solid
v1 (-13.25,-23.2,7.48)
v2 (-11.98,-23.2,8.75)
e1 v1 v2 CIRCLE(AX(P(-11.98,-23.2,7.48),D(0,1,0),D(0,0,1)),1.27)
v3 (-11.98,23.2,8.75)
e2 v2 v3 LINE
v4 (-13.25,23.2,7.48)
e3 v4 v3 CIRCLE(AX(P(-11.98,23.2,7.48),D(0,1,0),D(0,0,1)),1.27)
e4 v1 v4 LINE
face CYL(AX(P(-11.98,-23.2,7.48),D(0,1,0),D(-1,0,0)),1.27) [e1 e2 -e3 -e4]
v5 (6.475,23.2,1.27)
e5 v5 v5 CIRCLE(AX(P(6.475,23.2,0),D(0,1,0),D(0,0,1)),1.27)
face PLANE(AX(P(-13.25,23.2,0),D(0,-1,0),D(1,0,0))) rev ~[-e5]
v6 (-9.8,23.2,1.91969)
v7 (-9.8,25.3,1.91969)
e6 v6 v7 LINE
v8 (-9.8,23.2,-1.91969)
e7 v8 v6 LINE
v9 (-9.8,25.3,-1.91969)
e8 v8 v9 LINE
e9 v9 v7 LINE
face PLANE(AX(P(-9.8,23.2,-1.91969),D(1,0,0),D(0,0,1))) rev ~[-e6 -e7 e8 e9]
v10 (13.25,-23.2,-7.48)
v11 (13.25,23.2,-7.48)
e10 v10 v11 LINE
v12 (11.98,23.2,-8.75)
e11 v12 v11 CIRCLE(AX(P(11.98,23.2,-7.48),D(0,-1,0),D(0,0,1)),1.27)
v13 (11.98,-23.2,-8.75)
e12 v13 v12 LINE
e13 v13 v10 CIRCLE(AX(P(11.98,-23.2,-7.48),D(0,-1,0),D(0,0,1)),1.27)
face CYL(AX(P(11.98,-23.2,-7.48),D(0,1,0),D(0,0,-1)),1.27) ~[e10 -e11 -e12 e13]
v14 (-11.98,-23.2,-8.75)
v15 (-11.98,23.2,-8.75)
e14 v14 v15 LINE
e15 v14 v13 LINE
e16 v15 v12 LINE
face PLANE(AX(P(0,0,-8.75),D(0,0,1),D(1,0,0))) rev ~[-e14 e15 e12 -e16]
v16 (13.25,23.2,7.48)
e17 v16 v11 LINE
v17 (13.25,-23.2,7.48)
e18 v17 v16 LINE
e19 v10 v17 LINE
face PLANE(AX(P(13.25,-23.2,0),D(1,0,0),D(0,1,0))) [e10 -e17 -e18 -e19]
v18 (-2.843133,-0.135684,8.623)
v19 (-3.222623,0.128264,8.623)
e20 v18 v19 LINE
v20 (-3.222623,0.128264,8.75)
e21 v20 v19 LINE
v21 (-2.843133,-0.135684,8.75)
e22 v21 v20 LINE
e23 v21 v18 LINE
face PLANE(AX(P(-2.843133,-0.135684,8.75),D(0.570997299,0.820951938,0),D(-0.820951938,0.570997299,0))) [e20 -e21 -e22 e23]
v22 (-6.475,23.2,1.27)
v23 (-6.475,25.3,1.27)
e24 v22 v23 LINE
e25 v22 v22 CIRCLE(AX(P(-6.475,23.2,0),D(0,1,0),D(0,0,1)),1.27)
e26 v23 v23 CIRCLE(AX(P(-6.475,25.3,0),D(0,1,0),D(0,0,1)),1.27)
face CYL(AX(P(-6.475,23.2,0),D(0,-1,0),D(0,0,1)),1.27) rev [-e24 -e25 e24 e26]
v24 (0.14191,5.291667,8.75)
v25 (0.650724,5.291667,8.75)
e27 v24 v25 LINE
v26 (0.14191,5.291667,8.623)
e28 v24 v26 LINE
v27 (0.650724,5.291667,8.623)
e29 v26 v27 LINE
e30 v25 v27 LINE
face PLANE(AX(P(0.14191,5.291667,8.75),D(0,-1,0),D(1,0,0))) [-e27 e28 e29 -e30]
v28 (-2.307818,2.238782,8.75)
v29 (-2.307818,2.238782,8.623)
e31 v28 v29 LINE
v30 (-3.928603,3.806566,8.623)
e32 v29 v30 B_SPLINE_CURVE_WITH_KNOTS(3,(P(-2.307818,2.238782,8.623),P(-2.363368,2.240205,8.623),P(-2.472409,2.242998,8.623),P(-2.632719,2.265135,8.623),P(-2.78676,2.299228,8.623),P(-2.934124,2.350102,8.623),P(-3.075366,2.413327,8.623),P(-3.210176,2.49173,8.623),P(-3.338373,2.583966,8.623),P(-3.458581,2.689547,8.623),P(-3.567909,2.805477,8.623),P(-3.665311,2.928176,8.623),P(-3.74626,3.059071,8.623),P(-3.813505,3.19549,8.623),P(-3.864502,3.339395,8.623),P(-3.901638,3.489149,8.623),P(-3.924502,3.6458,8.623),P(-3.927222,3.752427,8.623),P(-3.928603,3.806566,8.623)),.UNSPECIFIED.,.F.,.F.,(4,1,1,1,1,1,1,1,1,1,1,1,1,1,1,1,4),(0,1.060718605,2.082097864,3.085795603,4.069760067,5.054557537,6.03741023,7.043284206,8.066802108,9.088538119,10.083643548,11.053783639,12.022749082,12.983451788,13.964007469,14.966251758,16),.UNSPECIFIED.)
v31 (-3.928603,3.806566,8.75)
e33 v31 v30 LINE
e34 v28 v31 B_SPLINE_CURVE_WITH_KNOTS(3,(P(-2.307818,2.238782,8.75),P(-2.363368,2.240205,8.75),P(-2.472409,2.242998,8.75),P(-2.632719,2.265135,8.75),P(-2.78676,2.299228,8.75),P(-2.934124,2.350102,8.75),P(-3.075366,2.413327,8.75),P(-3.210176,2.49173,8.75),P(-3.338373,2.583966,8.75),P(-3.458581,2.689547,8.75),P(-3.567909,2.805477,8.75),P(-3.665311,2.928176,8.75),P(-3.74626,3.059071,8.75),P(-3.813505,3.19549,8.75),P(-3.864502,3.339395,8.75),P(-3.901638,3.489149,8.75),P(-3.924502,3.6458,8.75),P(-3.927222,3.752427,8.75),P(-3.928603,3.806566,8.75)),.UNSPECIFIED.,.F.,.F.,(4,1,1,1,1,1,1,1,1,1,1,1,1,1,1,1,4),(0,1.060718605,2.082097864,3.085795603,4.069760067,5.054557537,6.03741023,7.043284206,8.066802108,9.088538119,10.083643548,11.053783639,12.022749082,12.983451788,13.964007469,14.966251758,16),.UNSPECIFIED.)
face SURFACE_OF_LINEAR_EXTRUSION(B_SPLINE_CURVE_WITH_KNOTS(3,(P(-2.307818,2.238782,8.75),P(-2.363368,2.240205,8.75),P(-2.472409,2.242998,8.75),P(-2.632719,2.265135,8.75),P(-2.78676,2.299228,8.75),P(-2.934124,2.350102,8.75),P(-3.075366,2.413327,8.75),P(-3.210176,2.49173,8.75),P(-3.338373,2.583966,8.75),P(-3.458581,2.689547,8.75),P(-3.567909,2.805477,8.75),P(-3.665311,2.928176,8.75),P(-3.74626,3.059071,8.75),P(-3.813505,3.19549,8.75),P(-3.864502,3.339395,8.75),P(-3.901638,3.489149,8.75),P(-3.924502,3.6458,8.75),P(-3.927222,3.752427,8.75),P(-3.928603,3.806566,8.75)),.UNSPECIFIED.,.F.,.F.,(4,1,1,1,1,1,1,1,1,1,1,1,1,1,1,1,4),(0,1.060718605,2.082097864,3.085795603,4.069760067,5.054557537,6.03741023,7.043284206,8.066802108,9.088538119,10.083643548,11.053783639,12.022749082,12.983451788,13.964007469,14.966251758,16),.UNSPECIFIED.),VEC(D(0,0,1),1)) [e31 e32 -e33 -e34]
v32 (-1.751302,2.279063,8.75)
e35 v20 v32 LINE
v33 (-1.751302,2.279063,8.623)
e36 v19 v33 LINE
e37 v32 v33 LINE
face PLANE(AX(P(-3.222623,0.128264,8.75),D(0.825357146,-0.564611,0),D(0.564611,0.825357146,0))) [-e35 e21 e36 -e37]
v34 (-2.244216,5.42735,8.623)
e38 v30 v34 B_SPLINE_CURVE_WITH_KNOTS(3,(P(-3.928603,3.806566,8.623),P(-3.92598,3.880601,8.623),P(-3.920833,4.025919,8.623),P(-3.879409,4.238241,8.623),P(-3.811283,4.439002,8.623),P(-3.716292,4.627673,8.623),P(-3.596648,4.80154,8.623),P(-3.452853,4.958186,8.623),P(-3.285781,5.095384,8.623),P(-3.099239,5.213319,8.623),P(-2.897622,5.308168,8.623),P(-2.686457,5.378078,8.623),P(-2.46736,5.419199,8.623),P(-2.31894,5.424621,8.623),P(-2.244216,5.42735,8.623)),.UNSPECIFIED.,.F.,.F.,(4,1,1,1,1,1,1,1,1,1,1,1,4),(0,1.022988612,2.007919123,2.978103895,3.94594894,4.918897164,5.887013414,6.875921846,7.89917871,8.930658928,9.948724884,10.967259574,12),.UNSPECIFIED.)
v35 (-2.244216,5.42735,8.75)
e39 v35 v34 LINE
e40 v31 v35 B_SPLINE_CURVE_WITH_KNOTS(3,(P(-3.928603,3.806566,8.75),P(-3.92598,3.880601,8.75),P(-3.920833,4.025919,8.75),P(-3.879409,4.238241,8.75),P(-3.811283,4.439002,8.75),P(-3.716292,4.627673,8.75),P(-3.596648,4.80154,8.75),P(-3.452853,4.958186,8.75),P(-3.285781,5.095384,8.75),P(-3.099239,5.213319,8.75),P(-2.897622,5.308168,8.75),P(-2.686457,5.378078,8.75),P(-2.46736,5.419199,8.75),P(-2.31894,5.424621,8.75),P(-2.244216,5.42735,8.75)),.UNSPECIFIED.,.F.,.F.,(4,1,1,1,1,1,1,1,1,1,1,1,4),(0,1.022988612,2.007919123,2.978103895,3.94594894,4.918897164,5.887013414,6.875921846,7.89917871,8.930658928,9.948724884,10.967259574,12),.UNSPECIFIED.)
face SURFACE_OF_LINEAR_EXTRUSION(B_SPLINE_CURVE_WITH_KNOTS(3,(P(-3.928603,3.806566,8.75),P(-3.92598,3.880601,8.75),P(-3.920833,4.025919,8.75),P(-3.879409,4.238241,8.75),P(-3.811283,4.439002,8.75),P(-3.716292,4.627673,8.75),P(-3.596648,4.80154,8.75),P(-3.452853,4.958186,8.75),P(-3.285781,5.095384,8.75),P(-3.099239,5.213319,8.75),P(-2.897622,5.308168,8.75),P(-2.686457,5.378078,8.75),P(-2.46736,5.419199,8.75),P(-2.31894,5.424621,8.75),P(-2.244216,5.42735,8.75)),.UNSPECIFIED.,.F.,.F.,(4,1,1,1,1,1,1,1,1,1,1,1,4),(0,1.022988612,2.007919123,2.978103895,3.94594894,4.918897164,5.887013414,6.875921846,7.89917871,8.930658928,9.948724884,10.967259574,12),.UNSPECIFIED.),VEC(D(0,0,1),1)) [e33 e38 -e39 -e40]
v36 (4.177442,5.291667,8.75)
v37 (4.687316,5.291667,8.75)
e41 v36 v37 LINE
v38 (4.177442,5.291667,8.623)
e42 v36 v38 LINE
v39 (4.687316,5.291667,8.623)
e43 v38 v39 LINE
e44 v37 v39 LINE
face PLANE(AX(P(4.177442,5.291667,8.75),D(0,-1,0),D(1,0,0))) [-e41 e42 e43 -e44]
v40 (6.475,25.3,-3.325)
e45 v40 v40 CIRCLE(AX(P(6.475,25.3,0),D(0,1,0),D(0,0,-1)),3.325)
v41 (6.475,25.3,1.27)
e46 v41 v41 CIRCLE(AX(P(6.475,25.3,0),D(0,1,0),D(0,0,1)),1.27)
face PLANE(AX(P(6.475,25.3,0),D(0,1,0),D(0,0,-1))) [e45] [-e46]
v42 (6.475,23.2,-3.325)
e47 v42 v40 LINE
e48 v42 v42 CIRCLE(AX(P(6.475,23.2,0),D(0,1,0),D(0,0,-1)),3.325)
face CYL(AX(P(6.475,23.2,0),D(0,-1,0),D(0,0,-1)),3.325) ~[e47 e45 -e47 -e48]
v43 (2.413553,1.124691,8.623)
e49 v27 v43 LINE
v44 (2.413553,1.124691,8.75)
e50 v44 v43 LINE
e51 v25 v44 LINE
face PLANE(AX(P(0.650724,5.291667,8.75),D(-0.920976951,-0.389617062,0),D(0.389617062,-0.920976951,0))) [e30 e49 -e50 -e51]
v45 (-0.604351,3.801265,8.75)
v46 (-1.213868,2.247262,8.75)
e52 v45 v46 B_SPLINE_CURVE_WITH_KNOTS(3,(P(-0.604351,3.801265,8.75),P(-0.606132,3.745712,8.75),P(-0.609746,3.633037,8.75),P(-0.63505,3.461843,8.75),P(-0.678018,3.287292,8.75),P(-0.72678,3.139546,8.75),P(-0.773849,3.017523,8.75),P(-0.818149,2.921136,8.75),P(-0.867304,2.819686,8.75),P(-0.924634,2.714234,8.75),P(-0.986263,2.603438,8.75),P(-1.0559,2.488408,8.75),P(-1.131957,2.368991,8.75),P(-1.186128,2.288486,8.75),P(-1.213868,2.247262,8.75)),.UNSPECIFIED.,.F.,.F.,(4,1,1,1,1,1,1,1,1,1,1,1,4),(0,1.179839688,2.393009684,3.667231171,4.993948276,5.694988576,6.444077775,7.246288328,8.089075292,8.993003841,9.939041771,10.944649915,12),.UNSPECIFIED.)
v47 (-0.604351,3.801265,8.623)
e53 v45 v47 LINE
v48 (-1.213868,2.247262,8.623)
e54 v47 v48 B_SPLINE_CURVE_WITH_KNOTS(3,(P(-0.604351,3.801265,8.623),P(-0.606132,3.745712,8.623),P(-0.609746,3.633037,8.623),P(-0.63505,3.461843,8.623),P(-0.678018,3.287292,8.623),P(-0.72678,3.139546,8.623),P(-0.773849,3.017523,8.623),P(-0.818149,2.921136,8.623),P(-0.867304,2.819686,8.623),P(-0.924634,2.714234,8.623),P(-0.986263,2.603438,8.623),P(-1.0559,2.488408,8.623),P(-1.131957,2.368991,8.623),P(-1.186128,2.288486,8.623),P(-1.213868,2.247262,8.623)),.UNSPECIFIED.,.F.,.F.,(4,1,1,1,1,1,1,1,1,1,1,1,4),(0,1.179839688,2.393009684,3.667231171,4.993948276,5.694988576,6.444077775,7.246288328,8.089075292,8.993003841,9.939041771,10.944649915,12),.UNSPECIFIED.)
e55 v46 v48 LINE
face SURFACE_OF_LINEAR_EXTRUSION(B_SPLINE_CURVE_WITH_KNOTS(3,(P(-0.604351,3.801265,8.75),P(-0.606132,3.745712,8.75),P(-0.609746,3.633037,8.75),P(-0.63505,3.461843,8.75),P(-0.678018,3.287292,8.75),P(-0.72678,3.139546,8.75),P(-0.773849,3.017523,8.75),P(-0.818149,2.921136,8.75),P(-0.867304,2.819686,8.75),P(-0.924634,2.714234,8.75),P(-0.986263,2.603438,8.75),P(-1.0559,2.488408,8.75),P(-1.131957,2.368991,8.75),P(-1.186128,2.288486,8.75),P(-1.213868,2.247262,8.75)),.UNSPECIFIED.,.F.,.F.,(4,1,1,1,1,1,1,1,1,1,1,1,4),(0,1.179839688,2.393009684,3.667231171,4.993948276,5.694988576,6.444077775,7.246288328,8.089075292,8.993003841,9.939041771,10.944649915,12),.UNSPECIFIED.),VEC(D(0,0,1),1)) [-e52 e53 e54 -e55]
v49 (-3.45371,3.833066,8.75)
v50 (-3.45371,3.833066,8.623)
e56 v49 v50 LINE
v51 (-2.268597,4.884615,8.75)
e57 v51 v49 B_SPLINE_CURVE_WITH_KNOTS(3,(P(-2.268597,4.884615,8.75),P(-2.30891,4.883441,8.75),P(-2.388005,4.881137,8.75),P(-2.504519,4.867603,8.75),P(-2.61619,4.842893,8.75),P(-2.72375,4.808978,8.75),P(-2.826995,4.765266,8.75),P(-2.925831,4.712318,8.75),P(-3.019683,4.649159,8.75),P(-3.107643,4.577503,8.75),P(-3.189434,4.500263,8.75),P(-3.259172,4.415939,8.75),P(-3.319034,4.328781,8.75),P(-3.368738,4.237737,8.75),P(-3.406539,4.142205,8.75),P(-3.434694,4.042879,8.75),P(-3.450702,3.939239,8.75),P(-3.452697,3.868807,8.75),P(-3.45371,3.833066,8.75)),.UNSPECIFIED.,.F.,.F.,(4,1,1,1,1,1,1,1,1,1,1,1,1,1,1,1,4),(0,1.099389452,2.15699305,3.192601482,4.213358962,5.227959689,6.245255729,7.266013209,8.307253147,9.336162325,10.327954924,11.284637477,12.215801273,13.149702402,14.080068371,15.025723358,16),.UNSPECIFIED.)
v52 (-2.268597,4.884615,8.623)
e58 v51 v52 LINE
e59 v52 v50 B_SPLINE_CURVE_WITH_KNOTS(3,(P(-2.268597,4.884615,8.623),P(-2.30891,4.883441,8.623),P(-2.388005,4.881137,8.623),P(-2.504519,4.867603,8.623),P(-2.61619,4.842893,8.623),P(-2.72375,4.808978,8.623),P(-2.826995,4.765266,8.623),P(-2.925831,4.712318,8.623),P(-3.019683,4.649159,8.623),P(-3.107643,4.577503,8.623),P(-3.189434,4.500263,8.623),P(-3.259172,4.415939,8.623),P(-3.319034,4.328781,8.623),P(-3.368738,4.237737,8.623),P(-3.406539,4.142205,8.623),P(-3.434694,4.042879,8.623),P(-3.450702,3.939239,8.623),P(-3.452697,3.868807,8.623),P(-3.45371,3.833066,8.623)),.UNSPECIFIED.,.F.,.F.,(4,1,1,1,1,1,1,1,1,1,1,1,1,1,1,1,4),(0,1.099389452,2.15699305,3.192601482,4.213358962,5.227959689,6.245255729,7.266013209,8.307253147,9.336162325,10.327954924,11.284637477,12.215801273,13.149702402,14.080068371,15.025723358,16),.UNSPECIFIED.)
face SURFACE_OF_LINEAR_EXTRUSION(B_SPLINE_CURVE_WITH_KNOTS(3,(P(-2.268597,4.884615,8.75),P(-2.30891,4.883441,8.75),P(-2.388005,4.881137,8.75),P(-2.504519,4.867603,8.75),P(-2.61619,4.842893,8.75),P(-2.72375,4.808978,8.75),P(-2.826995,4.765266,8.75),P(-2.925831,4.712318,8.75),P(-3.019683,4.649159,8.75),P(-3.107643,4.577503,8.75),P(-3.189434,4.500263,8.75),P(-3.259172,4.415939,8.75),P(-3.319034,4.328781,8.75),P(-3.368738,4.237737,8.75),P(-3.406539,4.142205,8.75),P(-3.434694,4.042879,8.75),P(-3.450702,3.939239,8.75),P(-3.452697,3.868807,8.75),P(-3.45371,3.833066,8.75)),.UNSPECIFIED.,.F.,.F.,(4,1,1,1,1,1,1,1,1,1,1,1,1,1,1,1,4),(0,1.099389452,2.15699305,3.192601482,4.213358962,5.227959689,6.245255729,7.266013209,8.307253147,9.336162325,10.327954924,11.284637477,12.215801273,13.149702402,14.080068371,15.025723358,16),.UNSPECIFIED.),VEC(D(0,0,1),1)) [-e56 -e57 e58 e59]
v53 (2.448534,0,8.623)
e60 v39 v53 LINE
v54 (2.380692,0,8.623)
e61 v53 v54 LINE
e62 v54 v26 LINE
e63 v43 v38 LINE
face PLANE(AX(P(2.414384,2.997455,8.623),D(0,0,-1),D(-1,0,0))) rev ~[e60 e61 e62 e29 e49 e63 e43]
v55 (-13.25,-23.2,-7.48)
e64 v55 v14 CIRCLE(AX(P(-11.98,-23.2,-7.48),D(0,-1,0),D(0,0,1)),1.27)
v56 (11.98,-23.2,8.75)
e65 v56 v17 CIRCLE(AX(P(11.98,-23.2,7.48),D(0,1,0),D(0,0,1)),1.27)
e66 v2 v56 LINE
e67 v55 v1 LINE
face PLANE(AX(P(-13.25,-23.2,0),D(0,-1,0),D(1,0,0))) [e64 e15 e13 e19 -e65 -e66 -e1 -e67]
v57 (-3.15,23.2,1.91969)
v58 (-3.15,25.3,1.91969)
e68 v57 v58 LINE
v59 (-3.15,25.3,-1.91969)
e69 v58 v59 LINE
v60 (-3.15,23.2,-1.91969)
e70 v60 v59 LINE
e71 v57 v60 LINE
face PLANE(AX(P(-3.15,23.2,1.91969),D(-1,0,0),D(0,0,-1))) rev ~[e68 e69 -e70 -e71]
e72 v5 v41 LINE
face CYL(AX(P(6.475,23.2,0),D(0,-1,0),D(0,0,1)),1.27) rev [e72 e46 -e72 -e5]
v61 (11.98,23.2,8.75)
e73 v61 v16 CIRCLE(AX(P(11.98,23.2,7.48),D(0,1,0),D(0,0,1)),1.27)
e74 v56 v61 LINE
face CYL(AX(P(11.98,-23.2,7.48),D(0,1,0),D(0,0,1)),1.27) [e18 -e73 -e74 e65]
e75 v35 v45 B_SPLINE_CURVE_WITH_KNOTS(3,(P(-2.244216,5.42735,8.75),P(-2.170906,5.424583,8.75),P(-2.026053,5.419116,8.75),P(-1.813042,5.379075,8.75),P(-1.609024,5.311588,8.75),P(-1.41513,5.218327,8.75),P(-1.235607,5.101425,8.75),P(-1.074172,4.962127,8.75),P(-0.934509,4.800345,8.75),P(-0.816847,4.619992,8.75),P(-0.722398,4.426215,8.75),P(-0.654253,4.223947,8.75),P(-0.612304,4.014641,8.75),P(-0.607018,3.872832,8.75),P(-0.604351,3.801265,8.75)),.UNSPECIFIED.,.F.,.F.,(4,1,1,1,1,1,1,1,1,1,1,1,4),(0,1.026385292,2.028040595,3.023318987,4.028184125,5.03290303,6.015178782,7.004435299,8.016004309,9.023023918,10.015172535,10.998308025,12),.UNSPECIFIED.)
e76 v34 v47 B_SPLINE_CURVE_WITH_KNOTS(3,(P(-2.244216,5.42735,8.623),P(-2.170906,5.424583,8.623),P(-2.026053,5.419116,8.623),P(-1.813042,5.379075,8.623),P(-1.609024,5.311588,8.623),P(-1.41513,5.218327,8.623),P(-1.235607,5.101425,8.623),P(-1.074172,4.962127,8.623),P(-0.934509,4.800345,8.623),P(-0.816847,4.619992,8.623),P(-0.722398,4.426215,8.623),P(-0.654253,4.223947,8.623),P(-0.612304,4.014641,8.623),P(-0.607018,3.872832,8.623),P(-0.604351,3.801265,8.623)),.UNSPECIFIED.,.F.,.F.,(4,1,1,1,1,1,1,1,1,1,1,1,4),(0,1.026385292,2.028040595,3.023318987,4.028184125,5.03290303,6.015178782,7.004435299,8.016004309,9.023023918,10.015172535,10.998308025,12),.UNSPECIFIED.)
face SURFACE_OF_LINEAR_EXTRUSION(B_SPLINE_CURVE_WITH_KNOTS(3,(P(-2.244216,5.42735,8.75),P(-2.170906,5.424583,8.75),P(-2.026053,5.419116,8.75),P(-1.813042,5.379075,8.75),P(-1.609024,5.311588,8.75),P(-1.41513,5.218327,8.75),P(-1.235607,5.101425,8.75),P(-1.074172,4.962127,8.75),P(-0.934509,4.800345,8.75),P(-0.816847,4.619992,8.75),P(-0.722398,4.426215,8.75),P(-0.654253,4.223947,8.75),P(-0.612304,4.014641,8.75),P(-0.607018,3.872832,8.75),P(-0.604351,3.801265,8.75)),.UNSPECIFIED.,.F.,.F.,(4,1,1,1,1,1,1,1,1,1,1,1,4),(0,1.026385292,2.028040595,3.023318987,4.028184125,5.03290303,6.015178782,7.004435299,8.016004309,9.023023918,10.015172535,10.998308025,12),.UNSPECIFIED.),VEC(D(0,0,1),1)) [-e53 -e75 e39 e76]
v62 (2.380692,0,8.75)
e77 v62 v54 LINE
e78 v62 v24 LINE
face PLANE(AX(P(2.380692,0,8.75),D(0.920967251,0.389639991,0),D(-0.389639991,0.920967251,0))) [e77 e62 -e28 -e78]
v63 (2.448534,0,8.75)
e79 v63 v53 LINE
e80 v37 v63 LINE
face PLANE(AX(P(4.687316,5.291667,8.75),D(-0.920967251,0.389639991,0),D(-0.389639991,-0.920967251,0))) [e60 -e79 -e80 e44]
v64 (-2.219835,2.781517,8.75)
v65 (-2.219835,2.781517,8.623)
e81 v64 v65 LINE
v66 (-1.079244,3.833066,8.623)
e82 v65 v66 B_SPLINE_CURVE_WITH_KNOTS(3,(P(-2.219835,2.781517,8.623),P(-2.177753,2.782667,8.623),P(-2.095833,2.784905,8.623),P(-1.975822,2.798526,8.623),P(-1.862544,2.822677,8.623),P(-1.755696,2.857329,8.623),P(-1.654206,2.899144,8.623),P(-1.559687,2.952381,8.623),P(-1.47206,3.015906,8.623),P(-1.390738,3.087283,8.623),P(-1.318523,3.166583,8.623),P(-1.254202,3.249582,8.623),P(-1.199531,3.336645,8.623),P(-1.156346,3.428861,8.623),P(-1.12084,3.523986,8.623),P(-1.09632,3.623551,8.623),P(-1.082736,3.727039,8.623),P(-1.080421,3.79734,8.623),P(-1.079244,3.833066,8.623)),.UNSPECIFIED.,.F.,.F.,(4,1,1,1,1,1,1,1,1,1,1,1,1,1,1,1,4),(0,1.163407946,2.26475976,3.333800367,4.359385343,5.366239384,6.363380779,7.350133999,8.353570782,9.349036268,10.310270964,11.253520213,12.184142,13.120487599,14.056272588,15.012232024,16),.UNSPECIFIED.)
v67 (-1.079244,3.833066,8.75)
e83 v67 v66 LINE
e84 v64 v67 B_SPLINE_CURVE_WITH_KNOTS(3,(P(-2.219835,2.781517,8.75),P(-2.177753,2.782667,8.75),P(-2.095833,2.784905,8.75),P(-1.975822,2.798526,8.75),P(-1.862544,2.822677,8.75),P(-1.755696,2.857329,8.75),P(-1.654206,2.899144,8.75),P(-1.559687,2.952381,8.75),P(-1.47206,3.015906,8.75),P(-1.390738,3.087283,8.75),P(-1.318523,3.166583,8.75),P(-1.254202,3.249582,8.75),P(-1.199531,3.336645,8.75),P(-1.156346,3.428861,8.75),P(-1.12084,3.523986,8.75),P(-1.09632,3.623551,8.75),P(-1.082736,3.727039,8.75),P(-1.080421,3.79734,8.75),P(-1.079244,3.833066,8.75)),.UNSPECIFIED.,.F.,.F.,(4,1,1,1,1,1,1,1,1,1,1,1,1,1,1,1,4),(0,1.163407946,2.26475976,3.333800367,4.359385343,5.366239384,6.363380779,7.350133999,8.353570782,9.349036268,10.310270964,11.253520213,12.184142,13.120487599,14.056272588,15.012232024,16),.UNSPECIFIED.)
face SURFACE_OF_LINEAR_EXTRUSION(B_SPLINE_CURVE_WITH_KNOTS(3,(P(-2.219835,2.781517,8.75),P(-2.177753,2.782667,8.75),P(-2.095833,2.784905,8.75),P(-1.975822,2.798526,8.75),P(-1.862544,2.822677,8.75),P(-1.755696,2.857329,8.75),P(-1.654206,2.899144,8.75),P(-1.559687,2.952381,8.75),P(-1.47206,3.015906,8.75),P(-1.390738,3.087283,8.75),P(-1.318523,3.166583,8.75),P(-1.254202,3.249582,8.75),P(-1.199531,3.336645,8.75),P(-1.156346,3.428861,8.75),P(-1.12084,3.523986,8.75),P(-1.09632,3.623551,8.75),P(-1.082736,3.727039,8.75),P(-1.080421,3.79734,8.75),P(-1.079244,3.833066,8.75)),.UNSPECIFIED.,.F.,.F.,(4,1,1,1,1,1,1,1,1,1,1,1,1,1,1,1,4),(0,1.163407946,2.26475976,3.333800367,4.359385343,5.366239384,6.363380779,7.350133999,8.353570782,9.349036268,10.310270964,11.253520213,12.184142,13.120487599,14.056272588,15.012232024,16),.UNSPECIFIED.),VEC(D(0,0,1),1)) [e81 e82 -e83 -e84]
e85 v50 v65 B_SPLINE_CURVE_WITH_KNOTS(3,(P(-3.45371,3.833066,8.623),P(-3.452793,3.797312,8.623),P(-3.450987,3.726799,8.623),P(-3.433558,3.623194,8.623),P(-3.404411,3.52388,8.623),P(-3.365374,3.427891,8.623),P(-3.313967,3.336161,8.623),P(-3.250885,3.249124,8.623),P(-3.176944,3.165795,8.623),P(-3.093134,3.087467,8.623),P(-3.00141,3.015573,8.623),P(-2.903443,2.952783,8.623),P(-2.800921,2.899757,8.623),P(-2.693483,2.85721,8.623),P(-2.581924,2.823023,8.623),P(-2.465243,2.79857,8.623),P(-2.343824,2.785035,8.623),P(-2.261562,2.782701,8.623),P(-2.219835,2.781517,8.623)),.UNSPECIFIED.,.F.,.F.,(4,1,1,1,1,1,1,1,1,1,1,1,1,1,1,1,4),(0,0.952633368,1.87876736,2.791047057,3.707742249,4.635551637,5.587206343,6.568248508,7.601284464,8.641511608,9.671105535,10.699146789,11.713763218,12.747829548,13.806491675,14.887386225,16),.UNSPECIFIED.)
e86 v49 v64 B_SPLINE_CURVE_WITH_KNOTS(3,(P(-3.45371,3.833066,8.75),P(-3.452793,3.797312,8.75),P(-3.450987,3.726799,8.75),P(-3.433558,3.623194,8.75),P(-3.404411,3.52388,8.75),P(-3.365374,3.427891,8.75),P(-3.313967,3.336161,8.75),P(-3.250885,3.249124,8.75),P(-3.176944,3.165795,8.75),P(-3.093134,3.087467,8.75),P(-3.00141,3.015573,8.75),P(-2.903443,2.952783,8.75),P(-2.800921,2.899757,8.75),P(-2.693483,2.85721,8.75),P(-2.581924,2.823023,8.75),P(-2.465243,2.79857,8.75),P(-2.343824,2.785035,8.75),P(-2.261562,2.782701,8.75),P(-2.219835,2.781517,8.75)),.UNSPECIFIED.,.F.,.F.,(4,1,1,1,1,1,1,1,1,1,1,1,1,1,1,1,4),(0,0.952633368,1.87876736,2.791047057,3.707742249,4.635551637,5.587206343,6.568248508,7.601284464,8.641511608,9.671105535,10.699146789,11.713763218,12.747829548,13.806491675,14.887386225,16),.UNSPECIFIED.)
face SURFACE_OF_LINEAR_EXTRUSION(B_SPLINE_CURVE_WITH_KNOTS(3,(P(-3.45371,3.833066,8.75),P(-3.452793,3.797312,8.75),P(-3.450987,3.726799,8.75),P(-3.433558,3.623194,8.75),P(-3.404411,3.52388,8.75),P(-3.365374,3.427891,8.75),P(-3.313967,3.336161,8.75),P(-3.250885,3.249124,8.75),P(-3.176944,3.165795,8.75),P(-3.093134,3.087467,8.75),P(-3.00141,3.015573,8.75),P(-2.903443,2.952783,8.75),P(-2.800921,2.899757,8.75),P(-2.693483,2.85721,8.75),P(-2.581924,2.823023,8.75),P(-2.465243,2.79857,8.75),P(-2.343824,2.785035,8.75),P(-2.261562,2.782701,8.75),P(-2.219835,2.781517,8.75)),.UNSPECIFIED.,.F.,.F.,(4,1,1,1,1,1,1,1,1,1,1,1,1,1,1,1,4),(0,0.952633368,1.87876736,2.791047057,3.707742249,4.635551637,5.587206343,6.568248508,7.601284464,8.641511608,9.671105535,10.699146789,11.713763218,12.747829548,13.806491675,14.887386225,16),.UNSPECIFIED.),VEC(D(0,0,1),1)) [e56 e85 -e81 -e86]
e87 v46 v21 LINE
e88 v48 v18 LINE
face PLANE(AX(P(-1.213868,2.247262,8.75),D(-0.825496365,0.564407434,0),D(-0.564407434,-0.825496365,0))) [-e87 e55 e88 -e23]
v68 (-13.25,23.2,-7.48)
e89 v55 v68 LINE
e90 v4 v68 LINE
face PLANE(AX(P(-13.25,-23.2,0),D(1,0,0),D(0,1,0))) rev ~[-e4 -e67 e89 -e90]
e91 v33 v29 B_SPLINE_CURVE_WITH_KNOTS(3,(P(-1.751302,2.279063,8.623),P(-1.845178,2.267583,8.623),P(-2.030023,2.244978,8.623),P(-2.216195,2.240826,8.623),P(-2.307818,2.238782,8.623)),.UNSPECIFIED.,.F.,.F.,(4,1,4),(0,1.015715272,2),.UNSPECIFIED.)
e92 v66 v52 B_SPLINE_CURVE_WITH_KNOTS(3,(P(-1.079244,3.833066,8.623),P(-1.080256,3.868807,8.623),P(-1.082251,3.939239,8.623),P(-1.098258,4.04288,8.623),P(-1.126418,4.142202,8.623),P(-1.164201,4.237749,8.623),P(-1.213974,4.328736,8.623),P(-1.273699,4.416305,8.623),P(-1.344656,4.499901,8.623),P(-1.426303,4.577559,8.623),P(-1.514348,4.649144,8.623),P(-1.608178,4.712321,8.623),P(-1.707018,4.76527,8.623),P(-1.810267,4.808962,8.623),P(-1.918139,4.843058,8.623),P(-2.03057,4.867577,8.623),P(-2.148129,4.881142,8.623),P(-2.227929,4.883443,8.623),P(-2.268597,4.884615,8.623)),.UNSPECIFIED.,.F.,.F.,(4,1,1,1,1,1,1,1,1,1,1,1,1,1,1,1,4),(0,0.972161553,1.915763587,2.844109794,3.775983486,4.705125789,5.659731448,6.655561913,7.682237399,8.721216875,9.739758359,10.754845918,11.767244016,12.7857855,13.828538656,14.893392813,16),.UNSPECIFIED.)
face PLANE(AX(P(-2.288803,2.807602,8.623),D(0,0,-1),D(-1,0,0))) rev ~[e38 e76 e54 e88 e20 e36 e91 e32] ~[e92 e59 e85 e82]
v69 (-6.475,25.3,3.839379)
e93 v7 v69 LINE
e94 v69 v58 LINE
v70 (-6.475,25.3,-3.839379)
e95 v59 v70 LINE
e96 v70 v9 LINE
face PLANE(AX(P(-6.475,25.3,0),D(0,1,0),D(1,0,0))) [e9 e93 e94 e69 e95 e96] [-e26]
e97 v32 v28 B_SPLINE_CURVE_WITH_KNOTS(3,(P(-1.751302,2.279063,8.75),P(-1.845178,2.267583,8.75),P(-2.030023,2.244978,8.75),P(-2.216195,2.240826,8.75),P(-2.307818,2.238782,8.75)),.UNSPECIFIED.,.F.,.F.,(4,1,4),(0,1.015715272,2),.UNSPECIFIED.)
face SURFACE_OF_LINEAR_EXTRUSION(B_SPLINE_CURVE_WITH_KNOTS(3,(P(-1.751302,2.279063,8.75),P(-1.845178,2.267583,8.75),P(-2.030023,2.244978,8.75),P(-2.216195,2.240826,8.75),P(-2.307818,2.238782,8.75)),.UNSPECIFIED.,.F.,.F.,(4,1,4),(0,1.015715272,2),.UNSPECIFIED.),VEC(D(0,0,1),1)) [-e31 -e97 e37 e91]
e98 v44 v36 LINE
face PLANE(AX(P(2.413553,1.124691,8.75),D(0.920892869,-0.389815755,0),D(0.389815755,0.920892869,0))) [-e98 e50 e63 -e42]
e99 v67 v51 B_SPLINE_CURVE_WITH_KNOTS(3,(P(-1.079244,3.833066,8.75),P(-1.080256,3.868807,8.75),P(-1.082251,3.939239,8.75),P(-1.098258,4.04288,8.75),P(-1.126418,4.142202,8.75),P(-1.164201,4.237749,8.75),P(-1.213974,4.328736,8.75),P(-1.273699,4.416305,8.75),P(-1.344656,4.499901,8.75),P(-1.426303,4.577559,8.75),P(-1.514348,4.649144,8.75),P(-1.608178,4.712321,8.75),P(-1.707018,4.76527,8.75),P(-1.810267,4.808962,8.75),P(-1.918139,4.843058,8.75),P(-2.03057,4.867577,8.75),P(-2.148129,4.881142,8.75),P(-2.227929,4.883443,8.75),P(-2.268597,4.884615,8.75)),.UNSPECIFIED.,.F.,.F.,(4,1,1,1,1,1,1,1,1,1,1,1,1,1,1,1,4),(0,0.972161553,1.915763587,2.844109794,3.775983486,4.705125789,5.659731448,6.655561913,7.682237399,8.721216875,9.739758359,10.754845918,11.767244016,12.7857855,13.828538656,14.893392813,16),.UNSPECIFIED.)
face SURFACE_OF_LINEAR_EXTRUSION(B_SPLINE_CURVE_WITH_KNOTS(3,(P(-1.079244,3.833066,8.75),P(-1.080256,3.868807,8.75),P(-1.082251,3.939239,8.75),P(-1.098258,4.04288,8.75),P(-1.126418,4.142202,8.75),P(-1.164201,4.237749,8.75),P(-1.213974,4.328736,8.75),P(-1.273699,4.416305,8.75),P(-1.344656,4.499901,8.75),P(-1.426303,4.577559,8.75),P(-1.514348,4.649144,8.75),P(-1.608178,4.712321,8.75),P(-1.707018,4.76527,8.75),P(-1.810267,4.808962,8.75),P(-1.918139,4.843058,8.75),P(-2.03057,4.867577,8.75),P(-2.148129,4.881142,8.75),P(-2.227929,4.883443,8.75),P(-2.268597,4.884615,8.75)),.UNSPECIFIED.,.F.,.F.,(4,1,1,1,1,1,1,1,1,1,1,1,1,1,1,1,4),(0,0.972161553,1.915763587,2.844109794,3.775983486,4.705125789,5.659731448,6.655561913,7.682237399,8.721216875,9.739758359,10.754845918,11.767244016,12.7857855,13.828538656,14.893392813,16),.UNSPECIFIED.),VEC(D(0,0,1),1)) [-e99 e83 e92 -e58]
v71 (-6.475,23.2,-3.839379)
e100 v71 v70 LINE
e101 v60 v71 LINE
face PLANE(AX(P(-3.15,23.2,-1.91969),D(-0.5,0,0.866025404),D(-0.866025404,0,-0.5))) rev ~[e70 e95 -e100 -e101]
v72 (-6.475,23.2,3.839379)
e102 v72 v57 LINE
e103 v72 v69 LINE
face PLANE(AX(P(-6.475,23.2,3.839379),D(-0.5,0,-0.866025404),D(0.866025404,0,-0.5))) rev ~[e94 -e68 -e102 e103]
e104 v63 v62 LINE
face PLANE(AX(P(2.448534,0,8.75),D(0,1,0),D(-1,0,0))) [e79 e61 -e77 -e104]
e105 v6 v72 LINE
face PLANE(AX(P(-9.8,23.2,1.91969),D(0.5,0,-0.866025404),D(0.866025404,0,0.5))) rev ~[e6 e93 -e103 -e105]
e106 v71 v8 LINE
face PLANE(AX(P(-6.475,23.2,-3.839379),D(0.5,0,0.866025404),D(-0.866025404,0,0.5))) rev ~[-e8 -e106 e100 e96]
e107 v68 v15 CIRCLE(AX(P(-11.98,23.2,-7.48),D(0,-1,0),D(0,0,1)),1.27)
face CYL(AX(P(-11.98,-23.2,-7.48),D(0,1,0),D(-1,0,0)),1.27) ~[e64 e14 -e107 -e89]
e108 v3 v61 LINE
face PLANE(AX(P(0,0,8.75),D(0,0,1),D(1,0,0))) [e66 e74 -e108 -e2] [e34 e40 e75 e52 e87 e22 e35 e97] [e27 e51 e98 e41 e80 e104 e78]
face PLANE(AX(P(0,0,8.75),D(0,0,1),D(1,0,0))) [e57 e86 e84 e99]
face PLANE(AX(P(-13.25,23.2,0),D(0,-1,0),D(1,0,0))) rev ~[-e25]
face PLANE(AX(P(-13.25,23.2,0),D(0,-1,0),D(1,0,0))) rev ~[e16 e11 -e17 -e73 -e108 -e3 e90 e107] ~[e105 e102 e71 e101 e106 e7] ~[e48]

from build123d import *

# Parameters (mm, degrees)
SKETCH1_W           = 26.5
SKETCH1_H           = 46.4
BOSS_EXTRUDE1_DEPTH = 8.75
SKETCH2_R           = 3.325
SKETCH2_R_2         = 1.27
BOSS_EXTRUDE2_DEPTH = 2.1
CUT_EXTRUDE1_DEPTH  = 0.127
FILLET1_R           = 1.27


with BuildPart() as part:
    # Sketch1 → Boss-Extrude1 (new, symmetric)
    with BuildSketch(Plane.XY):
        Rectangle(SKETCH1_W, SKETCH1_H)
    extrude(amount=BOSS_EXTRUDE1_DEPTH, both=True)

    # Sketch2 → Boss-Extrude2 (add)
    # profile 1 of 2: a face of its own
    with BuildSketch(Plane(origin=(0, 23.2, 0), x_dir=(1, 0, 0), z_dir=(0, 1, 0))):
        with Locations(Location((6.475, 0, 0), (0, 0, 90))):
            Circle(SKETCH2_R)
        with Locations(Location((6.475, 0, 0), (0, 0, 270))):
            Circle(SKETCH2_R_2, mode=Mode.SUBTRACT)
    # profile 2 of 2: a face of its own
    with BuildSketch(Plane(origin=(0, 23.2, 0), x_dir=(1, 0, 0), z_dir=(0, 1, 0))):
        Polygon((-6.475, 3.83937929), (-9.8, 1.919689645), (-9.8, -1.919689645), (-6.475, -3.83937929), (-3.15, -1.919689645), (-3.15, 1.919689645), align=None)
        with Locations(Location((-6.475, 0, 0), (0, 0, 270))):
            Circle(SKETCH2_R_2, mode=Mode.SUBTRACT)
    extrude(amount=BOSS_EXTRUDE2_DEPTH)

    # Sketch3 → Cut-Extrude1 (cut)
    # profile 1 of 2: a face of its own
    with BuildSketch(Plane.XY.offset(8.75)):
        with BuildLine():
            Line((-2.843132665, -0.135683761), (-3.222623183, 0.128263555))
            Line((-3.222623183, 0.128263555), (-1.751302403, 2.279063168))
            add(Edge.make_bspline(
                [(-1.751302403, 2.279063168), (-1.845177682, 2.267583179), (-2.03002334, 2.244978442), (-2.216194911, 2.240825761), (-2.307817828, 2.238782051)],
                knots=[0, 0, 0, 0, 1.015715272, 2, 2, 2, 2], degree=3))
            add(Edge.make_bspline(
                [(-2.307817828, 2.238782051), (-2.363368305, 2.240204869), (-2.472409033, 2.242997737), (-2.632718794, 2.265134756), (-2.786760058, 2.299228402), (-2.934124441, 2.350102115), (-3.075365836, 2.413327264), (-3.210175902, 2.49173013), (-3.338373165, 2.583965833), (-3.458580797, 2.689546665), (-3.567909259, 2.805476578), (-3.66531115, 2.928176181), (-3.746260242, 3.059070803), (-3.813504604, 3.195490302), (-3.864501837, 3.339395439), (-3.901638055, 3.489148699), (-3.924501614, 3.645799634), (-3.927221675, 3.752426915), (-3.92860275, 3.806565505)],
                knots=[0, 0, 0, 0, 1.060718605, 2.082097864, 3.085795603, 4.069760067, 5.054557537, 6.03741023, 7.043284206, 8.066802108, 9.088538119, 10.083643548, 11.053783639, 12.022749082, 12.983451788, 13.964007469, 14.966251758, 16, 16, 16, 16], degree=3))
            add(Edge.make_bspline(
                [(-3.92860275, 3.806565505), (-3.92598045, 3.880601444), (-3.920833407, 4.025918974), (-3.879409458, 4.238241458), (-3.811282517, 4.439002066), (-3.716291995, 4.627672954), (-3.596647832, 4.801540095), (-3.452852702, 4.958186445), (-3.285781232, 5.095384022), (-3.09923937, 5.213318758), (-2.897622303, 5.308168099), (-2.686456594, 5.378077517), (-2.467360245, 5.419199434), (-2.318940077, 5.424620914), (-2.244216065, 5.427350427)],
                knots=[0, 0, 0, 0, 1.022988612, 2.007919123, 2.978103895, 3.94594894, 4.918897164, 5.887013414, 6.875921846, 7.89917871, 8.930658928, 9.948724884, 10.967259574, 12, 12, 12, 12], degree=3))
            add(Edge.make_bspline(
                [(-2.244216065, 5.427350427), (-2.170906192, 5.424583395), (-2.026052794, 5.419116), (-1.813042034, 5.379074761), (-1.609024068, 5.311588363), (-1.415129862, 5.218327177), (-1.235607179, 5.101425329), (-1.074172322, 4.962126704), (-0.934509305, 4.800344538), (-0.816847009, 4.619991701), (-0.722398257, 4.426215432), (-0.654253258, 4.223946883), (-0.612304494, 4.014640721), (-0.607018381, 3.872832409), (-0.604350614, 3.801265358)],
                knots=[0, 0, 0, 0, 1.026385292, 2.028040595, 3.023318987, 4.028184125, 5.03290303, 6.015178782, 7.004435299, 8.016004309, 9.023023918, 10.015172535, 10.998308025, 12, 12, 12, 12], degree=3))
            add(Edge.make_bspline(
                [(-0.604350614, 3.801265358), (-0.606132256, 3.745712281), (-0.609745871, 3.633036762), (-0.635049573, 3.461843267), (-0.678018187, 3.287292003), (-0.726779683, 3.139546257), (-0.773848556, 3.017522768), (-0.818149077, 2.921136451), (-0.867304356, 2.819685731), (-0.924633918, 2.714234399), (-0.986262629, 2.603438185), (-1.055899868, 2.488408365), (-1.131957102, 2.368990578), (-1.186128226, 2.288486052), (-1.213867507, 2.247262286)],
                knots=[0, 0, 0, 0, 1.179839688, 2.393009684, 3.667231171, 4.993948276, 5.694988576, 6.444077775, 7.246288328, 8.089075292, 8.993003841, 9.939041771, 10.944649915, 12, 12, 12, 12], degree=3))
            Line((-1.213867507, 2.247262286), (-2.843132665, -0.135683761))
        make_face()
        with BuildLine():
            add(Edge.make_bspline(
                [(-2.219835389, 2.781517094), (-2.177753011, 2.782666722), (-2.095832926, 2.784904656), (-1.97582201, 2.798525772), (-1.86254375, 2.822676918), (-1.755695551, 2.85732934), (-1.654206069, 2.899143589), (-1.559687334, 2.952380758), (-1.472060244, 3.015905909), (-1.390738021, 3.087282956), (-1.318523403, 3.166583243), (-1.254202392, 3.24958244), (-1.199531058, 3.336644886), (-1.156346103, 3.42886089), (-1.120839662, 3.523985717), (-1.096319572, 3.62355123), (-1.082736116, 3.727038693), (-1.080420521, 3.797340236), (-1.079243776, 3.833066239)],
                knots=[0, 0, 0, 0, 1.163407946, 2.26475976, 3.333800367, 4.359385343, 5.366239384, 6.363380779, 7.350133999, 8.353570782, 9.349036268, 10.310270964, 11.253520213, 12.184142, 13.120487599, 14.056272588, 15.012232024, 16, 16, 16, 16], degree=3))
            add(Edge.make_bspline(
                [(-1.079243776, 3.833066239), (-1.080256252, 3.868807162), (-1.08225146, 3.939239033), (-1.098258449, 4.042879712), (-1.126418012, 4.142201665), (-1.164201245, 4.237748649), (-1.21397351, 4.32873564), (-1.273699018, 4.41630497), (-1.344656412, 4.499901401), (-1.426303149, 4.577558852), (-1.514348247, 4.649144366), (-1.608177813, 4.712320934), (-1.70701846, 4.765269647), (-1.810267177, 4.808962137), (-1.918139085, 4.843058274), (-2.030570353, 4.867577385), (-2.148129121, 4.881141824), (-2.227929399, 4.883442783), (-2.268596741, 4.884615385)],
                knots=[0, 0, 0, 0, 0.972161553, 1.915763587, 2.844109794, 3.775983486, 4.705125789, 5.659731448, 6.655561913, 7.682237399, 8.721216875, 9.739758359, 10.754845918, 11.767244016, 12.7857855, 13.828538656, 14.893392813, 16, 16, 16, 16], degree=3))
            add(Edge.make_bspline(
                [(-2.268596741, 4.884615385), (-2.308910401, 4.883440889), (-2.388005471, 4.881136539), (-2.50451914, 4.867603169), (-2.616190192, 4.842893377), (-2.723749546, 4.808977931), (-2.826995195, 4.765266388), (-2.92583118, 4.712318159), (-3.019682694, 4.649158909), (-3.107643379, 4.577502527), (-3.189434285, 4.500262871), (-3.259171692, 4.415938759), (-3.319033886, 4.328781192), (-3.368737759, 4.237736543), (-3.406539184, 4.142204896), (-3.434693877, 4.042878836), (-3.450702174, 3.939239261), (-3.452697203, 3.868807239), (-3.453709588, 3.833066239)],
                knots=[0, 0, 0, 0, 1.099389452, 2.15699305, 3.192601482, 4.213358962, 5.227959689, 6.245255729, 7.266013209, 8.307253147, 9.336162325, 10.327954924, 11.284637477, 12.215801273, 13.149702402, 14.080068371, 15.025723358, 16, 16, 16, 16], degree=3))
            add(Edge.make_bspline(
                [(-3.453709588, 3.833066239), (-3.452793485, 3.797312415), (-3.450986763, 3.72679933), (-3.433557843, 3.62319395), (-3.40441092, 3.523879657), (-3.365374461, 3.427890778), (-3.313967294, 3.336160707), (-3.25088481, 3.249124338), (-3.176944282, 3.165795027), (-3.093134128, 3.087467456), (-3.001409647, 3.015573096), (-2.903443138, 2.952783113), (-2.800921122, 2.899756918), (-2.693482704, 2.857209825), (-2.58192409, 2.823023144), (-2.465242642, 2.798570284), (-2.343824235, 2.785035309), (-2.261561524, 2.782701084), (-2.219835389, 2.781517094)],
                knots=[0, 0, 0, 0, 0.952633368, 1.87876736, 2.791047057, 3.707742249, 4.635551637, 5.587206343, 6.568248508, 7.601284464, 8.641511608, 9.671105535, 10.699146789, 11.713763218, 12.747829548, 13.806491675, 14.887386225, 16, 16, 16, 16], degree=3))
        make_face(mode=Mode.SUBTRACT)
    # profile 2 of 2: a face of its own
    with BuildSketch(Plane.XY.offset(8.75)):
        Polygon((0.14191007, 5.291666667), (0.650724173, 5.291666667), (2.413553032, 1.124691173), (4.177441921, 5.291666667), (4.687316053, 5.291666667), (2.448534002, 0), (2.380692122, 0), align=None)
    extrude(amount=-CUT_EXTRUDE1_DEPTH, mode=Mode.SUBTRACT)

    # Fillet1
    fillet1_edges = [part.edges().sort_by_distance(p)[0] for p in [
        (-13.25, 0, 8.75),
        (13.25, 0, 8.75),
        (-13.25, 0, -8.75),
        (13.25, 0, -8.75),
    ]]
    fillet(fillet1_edges, radius=FILLET1_R)


solid = part.part
